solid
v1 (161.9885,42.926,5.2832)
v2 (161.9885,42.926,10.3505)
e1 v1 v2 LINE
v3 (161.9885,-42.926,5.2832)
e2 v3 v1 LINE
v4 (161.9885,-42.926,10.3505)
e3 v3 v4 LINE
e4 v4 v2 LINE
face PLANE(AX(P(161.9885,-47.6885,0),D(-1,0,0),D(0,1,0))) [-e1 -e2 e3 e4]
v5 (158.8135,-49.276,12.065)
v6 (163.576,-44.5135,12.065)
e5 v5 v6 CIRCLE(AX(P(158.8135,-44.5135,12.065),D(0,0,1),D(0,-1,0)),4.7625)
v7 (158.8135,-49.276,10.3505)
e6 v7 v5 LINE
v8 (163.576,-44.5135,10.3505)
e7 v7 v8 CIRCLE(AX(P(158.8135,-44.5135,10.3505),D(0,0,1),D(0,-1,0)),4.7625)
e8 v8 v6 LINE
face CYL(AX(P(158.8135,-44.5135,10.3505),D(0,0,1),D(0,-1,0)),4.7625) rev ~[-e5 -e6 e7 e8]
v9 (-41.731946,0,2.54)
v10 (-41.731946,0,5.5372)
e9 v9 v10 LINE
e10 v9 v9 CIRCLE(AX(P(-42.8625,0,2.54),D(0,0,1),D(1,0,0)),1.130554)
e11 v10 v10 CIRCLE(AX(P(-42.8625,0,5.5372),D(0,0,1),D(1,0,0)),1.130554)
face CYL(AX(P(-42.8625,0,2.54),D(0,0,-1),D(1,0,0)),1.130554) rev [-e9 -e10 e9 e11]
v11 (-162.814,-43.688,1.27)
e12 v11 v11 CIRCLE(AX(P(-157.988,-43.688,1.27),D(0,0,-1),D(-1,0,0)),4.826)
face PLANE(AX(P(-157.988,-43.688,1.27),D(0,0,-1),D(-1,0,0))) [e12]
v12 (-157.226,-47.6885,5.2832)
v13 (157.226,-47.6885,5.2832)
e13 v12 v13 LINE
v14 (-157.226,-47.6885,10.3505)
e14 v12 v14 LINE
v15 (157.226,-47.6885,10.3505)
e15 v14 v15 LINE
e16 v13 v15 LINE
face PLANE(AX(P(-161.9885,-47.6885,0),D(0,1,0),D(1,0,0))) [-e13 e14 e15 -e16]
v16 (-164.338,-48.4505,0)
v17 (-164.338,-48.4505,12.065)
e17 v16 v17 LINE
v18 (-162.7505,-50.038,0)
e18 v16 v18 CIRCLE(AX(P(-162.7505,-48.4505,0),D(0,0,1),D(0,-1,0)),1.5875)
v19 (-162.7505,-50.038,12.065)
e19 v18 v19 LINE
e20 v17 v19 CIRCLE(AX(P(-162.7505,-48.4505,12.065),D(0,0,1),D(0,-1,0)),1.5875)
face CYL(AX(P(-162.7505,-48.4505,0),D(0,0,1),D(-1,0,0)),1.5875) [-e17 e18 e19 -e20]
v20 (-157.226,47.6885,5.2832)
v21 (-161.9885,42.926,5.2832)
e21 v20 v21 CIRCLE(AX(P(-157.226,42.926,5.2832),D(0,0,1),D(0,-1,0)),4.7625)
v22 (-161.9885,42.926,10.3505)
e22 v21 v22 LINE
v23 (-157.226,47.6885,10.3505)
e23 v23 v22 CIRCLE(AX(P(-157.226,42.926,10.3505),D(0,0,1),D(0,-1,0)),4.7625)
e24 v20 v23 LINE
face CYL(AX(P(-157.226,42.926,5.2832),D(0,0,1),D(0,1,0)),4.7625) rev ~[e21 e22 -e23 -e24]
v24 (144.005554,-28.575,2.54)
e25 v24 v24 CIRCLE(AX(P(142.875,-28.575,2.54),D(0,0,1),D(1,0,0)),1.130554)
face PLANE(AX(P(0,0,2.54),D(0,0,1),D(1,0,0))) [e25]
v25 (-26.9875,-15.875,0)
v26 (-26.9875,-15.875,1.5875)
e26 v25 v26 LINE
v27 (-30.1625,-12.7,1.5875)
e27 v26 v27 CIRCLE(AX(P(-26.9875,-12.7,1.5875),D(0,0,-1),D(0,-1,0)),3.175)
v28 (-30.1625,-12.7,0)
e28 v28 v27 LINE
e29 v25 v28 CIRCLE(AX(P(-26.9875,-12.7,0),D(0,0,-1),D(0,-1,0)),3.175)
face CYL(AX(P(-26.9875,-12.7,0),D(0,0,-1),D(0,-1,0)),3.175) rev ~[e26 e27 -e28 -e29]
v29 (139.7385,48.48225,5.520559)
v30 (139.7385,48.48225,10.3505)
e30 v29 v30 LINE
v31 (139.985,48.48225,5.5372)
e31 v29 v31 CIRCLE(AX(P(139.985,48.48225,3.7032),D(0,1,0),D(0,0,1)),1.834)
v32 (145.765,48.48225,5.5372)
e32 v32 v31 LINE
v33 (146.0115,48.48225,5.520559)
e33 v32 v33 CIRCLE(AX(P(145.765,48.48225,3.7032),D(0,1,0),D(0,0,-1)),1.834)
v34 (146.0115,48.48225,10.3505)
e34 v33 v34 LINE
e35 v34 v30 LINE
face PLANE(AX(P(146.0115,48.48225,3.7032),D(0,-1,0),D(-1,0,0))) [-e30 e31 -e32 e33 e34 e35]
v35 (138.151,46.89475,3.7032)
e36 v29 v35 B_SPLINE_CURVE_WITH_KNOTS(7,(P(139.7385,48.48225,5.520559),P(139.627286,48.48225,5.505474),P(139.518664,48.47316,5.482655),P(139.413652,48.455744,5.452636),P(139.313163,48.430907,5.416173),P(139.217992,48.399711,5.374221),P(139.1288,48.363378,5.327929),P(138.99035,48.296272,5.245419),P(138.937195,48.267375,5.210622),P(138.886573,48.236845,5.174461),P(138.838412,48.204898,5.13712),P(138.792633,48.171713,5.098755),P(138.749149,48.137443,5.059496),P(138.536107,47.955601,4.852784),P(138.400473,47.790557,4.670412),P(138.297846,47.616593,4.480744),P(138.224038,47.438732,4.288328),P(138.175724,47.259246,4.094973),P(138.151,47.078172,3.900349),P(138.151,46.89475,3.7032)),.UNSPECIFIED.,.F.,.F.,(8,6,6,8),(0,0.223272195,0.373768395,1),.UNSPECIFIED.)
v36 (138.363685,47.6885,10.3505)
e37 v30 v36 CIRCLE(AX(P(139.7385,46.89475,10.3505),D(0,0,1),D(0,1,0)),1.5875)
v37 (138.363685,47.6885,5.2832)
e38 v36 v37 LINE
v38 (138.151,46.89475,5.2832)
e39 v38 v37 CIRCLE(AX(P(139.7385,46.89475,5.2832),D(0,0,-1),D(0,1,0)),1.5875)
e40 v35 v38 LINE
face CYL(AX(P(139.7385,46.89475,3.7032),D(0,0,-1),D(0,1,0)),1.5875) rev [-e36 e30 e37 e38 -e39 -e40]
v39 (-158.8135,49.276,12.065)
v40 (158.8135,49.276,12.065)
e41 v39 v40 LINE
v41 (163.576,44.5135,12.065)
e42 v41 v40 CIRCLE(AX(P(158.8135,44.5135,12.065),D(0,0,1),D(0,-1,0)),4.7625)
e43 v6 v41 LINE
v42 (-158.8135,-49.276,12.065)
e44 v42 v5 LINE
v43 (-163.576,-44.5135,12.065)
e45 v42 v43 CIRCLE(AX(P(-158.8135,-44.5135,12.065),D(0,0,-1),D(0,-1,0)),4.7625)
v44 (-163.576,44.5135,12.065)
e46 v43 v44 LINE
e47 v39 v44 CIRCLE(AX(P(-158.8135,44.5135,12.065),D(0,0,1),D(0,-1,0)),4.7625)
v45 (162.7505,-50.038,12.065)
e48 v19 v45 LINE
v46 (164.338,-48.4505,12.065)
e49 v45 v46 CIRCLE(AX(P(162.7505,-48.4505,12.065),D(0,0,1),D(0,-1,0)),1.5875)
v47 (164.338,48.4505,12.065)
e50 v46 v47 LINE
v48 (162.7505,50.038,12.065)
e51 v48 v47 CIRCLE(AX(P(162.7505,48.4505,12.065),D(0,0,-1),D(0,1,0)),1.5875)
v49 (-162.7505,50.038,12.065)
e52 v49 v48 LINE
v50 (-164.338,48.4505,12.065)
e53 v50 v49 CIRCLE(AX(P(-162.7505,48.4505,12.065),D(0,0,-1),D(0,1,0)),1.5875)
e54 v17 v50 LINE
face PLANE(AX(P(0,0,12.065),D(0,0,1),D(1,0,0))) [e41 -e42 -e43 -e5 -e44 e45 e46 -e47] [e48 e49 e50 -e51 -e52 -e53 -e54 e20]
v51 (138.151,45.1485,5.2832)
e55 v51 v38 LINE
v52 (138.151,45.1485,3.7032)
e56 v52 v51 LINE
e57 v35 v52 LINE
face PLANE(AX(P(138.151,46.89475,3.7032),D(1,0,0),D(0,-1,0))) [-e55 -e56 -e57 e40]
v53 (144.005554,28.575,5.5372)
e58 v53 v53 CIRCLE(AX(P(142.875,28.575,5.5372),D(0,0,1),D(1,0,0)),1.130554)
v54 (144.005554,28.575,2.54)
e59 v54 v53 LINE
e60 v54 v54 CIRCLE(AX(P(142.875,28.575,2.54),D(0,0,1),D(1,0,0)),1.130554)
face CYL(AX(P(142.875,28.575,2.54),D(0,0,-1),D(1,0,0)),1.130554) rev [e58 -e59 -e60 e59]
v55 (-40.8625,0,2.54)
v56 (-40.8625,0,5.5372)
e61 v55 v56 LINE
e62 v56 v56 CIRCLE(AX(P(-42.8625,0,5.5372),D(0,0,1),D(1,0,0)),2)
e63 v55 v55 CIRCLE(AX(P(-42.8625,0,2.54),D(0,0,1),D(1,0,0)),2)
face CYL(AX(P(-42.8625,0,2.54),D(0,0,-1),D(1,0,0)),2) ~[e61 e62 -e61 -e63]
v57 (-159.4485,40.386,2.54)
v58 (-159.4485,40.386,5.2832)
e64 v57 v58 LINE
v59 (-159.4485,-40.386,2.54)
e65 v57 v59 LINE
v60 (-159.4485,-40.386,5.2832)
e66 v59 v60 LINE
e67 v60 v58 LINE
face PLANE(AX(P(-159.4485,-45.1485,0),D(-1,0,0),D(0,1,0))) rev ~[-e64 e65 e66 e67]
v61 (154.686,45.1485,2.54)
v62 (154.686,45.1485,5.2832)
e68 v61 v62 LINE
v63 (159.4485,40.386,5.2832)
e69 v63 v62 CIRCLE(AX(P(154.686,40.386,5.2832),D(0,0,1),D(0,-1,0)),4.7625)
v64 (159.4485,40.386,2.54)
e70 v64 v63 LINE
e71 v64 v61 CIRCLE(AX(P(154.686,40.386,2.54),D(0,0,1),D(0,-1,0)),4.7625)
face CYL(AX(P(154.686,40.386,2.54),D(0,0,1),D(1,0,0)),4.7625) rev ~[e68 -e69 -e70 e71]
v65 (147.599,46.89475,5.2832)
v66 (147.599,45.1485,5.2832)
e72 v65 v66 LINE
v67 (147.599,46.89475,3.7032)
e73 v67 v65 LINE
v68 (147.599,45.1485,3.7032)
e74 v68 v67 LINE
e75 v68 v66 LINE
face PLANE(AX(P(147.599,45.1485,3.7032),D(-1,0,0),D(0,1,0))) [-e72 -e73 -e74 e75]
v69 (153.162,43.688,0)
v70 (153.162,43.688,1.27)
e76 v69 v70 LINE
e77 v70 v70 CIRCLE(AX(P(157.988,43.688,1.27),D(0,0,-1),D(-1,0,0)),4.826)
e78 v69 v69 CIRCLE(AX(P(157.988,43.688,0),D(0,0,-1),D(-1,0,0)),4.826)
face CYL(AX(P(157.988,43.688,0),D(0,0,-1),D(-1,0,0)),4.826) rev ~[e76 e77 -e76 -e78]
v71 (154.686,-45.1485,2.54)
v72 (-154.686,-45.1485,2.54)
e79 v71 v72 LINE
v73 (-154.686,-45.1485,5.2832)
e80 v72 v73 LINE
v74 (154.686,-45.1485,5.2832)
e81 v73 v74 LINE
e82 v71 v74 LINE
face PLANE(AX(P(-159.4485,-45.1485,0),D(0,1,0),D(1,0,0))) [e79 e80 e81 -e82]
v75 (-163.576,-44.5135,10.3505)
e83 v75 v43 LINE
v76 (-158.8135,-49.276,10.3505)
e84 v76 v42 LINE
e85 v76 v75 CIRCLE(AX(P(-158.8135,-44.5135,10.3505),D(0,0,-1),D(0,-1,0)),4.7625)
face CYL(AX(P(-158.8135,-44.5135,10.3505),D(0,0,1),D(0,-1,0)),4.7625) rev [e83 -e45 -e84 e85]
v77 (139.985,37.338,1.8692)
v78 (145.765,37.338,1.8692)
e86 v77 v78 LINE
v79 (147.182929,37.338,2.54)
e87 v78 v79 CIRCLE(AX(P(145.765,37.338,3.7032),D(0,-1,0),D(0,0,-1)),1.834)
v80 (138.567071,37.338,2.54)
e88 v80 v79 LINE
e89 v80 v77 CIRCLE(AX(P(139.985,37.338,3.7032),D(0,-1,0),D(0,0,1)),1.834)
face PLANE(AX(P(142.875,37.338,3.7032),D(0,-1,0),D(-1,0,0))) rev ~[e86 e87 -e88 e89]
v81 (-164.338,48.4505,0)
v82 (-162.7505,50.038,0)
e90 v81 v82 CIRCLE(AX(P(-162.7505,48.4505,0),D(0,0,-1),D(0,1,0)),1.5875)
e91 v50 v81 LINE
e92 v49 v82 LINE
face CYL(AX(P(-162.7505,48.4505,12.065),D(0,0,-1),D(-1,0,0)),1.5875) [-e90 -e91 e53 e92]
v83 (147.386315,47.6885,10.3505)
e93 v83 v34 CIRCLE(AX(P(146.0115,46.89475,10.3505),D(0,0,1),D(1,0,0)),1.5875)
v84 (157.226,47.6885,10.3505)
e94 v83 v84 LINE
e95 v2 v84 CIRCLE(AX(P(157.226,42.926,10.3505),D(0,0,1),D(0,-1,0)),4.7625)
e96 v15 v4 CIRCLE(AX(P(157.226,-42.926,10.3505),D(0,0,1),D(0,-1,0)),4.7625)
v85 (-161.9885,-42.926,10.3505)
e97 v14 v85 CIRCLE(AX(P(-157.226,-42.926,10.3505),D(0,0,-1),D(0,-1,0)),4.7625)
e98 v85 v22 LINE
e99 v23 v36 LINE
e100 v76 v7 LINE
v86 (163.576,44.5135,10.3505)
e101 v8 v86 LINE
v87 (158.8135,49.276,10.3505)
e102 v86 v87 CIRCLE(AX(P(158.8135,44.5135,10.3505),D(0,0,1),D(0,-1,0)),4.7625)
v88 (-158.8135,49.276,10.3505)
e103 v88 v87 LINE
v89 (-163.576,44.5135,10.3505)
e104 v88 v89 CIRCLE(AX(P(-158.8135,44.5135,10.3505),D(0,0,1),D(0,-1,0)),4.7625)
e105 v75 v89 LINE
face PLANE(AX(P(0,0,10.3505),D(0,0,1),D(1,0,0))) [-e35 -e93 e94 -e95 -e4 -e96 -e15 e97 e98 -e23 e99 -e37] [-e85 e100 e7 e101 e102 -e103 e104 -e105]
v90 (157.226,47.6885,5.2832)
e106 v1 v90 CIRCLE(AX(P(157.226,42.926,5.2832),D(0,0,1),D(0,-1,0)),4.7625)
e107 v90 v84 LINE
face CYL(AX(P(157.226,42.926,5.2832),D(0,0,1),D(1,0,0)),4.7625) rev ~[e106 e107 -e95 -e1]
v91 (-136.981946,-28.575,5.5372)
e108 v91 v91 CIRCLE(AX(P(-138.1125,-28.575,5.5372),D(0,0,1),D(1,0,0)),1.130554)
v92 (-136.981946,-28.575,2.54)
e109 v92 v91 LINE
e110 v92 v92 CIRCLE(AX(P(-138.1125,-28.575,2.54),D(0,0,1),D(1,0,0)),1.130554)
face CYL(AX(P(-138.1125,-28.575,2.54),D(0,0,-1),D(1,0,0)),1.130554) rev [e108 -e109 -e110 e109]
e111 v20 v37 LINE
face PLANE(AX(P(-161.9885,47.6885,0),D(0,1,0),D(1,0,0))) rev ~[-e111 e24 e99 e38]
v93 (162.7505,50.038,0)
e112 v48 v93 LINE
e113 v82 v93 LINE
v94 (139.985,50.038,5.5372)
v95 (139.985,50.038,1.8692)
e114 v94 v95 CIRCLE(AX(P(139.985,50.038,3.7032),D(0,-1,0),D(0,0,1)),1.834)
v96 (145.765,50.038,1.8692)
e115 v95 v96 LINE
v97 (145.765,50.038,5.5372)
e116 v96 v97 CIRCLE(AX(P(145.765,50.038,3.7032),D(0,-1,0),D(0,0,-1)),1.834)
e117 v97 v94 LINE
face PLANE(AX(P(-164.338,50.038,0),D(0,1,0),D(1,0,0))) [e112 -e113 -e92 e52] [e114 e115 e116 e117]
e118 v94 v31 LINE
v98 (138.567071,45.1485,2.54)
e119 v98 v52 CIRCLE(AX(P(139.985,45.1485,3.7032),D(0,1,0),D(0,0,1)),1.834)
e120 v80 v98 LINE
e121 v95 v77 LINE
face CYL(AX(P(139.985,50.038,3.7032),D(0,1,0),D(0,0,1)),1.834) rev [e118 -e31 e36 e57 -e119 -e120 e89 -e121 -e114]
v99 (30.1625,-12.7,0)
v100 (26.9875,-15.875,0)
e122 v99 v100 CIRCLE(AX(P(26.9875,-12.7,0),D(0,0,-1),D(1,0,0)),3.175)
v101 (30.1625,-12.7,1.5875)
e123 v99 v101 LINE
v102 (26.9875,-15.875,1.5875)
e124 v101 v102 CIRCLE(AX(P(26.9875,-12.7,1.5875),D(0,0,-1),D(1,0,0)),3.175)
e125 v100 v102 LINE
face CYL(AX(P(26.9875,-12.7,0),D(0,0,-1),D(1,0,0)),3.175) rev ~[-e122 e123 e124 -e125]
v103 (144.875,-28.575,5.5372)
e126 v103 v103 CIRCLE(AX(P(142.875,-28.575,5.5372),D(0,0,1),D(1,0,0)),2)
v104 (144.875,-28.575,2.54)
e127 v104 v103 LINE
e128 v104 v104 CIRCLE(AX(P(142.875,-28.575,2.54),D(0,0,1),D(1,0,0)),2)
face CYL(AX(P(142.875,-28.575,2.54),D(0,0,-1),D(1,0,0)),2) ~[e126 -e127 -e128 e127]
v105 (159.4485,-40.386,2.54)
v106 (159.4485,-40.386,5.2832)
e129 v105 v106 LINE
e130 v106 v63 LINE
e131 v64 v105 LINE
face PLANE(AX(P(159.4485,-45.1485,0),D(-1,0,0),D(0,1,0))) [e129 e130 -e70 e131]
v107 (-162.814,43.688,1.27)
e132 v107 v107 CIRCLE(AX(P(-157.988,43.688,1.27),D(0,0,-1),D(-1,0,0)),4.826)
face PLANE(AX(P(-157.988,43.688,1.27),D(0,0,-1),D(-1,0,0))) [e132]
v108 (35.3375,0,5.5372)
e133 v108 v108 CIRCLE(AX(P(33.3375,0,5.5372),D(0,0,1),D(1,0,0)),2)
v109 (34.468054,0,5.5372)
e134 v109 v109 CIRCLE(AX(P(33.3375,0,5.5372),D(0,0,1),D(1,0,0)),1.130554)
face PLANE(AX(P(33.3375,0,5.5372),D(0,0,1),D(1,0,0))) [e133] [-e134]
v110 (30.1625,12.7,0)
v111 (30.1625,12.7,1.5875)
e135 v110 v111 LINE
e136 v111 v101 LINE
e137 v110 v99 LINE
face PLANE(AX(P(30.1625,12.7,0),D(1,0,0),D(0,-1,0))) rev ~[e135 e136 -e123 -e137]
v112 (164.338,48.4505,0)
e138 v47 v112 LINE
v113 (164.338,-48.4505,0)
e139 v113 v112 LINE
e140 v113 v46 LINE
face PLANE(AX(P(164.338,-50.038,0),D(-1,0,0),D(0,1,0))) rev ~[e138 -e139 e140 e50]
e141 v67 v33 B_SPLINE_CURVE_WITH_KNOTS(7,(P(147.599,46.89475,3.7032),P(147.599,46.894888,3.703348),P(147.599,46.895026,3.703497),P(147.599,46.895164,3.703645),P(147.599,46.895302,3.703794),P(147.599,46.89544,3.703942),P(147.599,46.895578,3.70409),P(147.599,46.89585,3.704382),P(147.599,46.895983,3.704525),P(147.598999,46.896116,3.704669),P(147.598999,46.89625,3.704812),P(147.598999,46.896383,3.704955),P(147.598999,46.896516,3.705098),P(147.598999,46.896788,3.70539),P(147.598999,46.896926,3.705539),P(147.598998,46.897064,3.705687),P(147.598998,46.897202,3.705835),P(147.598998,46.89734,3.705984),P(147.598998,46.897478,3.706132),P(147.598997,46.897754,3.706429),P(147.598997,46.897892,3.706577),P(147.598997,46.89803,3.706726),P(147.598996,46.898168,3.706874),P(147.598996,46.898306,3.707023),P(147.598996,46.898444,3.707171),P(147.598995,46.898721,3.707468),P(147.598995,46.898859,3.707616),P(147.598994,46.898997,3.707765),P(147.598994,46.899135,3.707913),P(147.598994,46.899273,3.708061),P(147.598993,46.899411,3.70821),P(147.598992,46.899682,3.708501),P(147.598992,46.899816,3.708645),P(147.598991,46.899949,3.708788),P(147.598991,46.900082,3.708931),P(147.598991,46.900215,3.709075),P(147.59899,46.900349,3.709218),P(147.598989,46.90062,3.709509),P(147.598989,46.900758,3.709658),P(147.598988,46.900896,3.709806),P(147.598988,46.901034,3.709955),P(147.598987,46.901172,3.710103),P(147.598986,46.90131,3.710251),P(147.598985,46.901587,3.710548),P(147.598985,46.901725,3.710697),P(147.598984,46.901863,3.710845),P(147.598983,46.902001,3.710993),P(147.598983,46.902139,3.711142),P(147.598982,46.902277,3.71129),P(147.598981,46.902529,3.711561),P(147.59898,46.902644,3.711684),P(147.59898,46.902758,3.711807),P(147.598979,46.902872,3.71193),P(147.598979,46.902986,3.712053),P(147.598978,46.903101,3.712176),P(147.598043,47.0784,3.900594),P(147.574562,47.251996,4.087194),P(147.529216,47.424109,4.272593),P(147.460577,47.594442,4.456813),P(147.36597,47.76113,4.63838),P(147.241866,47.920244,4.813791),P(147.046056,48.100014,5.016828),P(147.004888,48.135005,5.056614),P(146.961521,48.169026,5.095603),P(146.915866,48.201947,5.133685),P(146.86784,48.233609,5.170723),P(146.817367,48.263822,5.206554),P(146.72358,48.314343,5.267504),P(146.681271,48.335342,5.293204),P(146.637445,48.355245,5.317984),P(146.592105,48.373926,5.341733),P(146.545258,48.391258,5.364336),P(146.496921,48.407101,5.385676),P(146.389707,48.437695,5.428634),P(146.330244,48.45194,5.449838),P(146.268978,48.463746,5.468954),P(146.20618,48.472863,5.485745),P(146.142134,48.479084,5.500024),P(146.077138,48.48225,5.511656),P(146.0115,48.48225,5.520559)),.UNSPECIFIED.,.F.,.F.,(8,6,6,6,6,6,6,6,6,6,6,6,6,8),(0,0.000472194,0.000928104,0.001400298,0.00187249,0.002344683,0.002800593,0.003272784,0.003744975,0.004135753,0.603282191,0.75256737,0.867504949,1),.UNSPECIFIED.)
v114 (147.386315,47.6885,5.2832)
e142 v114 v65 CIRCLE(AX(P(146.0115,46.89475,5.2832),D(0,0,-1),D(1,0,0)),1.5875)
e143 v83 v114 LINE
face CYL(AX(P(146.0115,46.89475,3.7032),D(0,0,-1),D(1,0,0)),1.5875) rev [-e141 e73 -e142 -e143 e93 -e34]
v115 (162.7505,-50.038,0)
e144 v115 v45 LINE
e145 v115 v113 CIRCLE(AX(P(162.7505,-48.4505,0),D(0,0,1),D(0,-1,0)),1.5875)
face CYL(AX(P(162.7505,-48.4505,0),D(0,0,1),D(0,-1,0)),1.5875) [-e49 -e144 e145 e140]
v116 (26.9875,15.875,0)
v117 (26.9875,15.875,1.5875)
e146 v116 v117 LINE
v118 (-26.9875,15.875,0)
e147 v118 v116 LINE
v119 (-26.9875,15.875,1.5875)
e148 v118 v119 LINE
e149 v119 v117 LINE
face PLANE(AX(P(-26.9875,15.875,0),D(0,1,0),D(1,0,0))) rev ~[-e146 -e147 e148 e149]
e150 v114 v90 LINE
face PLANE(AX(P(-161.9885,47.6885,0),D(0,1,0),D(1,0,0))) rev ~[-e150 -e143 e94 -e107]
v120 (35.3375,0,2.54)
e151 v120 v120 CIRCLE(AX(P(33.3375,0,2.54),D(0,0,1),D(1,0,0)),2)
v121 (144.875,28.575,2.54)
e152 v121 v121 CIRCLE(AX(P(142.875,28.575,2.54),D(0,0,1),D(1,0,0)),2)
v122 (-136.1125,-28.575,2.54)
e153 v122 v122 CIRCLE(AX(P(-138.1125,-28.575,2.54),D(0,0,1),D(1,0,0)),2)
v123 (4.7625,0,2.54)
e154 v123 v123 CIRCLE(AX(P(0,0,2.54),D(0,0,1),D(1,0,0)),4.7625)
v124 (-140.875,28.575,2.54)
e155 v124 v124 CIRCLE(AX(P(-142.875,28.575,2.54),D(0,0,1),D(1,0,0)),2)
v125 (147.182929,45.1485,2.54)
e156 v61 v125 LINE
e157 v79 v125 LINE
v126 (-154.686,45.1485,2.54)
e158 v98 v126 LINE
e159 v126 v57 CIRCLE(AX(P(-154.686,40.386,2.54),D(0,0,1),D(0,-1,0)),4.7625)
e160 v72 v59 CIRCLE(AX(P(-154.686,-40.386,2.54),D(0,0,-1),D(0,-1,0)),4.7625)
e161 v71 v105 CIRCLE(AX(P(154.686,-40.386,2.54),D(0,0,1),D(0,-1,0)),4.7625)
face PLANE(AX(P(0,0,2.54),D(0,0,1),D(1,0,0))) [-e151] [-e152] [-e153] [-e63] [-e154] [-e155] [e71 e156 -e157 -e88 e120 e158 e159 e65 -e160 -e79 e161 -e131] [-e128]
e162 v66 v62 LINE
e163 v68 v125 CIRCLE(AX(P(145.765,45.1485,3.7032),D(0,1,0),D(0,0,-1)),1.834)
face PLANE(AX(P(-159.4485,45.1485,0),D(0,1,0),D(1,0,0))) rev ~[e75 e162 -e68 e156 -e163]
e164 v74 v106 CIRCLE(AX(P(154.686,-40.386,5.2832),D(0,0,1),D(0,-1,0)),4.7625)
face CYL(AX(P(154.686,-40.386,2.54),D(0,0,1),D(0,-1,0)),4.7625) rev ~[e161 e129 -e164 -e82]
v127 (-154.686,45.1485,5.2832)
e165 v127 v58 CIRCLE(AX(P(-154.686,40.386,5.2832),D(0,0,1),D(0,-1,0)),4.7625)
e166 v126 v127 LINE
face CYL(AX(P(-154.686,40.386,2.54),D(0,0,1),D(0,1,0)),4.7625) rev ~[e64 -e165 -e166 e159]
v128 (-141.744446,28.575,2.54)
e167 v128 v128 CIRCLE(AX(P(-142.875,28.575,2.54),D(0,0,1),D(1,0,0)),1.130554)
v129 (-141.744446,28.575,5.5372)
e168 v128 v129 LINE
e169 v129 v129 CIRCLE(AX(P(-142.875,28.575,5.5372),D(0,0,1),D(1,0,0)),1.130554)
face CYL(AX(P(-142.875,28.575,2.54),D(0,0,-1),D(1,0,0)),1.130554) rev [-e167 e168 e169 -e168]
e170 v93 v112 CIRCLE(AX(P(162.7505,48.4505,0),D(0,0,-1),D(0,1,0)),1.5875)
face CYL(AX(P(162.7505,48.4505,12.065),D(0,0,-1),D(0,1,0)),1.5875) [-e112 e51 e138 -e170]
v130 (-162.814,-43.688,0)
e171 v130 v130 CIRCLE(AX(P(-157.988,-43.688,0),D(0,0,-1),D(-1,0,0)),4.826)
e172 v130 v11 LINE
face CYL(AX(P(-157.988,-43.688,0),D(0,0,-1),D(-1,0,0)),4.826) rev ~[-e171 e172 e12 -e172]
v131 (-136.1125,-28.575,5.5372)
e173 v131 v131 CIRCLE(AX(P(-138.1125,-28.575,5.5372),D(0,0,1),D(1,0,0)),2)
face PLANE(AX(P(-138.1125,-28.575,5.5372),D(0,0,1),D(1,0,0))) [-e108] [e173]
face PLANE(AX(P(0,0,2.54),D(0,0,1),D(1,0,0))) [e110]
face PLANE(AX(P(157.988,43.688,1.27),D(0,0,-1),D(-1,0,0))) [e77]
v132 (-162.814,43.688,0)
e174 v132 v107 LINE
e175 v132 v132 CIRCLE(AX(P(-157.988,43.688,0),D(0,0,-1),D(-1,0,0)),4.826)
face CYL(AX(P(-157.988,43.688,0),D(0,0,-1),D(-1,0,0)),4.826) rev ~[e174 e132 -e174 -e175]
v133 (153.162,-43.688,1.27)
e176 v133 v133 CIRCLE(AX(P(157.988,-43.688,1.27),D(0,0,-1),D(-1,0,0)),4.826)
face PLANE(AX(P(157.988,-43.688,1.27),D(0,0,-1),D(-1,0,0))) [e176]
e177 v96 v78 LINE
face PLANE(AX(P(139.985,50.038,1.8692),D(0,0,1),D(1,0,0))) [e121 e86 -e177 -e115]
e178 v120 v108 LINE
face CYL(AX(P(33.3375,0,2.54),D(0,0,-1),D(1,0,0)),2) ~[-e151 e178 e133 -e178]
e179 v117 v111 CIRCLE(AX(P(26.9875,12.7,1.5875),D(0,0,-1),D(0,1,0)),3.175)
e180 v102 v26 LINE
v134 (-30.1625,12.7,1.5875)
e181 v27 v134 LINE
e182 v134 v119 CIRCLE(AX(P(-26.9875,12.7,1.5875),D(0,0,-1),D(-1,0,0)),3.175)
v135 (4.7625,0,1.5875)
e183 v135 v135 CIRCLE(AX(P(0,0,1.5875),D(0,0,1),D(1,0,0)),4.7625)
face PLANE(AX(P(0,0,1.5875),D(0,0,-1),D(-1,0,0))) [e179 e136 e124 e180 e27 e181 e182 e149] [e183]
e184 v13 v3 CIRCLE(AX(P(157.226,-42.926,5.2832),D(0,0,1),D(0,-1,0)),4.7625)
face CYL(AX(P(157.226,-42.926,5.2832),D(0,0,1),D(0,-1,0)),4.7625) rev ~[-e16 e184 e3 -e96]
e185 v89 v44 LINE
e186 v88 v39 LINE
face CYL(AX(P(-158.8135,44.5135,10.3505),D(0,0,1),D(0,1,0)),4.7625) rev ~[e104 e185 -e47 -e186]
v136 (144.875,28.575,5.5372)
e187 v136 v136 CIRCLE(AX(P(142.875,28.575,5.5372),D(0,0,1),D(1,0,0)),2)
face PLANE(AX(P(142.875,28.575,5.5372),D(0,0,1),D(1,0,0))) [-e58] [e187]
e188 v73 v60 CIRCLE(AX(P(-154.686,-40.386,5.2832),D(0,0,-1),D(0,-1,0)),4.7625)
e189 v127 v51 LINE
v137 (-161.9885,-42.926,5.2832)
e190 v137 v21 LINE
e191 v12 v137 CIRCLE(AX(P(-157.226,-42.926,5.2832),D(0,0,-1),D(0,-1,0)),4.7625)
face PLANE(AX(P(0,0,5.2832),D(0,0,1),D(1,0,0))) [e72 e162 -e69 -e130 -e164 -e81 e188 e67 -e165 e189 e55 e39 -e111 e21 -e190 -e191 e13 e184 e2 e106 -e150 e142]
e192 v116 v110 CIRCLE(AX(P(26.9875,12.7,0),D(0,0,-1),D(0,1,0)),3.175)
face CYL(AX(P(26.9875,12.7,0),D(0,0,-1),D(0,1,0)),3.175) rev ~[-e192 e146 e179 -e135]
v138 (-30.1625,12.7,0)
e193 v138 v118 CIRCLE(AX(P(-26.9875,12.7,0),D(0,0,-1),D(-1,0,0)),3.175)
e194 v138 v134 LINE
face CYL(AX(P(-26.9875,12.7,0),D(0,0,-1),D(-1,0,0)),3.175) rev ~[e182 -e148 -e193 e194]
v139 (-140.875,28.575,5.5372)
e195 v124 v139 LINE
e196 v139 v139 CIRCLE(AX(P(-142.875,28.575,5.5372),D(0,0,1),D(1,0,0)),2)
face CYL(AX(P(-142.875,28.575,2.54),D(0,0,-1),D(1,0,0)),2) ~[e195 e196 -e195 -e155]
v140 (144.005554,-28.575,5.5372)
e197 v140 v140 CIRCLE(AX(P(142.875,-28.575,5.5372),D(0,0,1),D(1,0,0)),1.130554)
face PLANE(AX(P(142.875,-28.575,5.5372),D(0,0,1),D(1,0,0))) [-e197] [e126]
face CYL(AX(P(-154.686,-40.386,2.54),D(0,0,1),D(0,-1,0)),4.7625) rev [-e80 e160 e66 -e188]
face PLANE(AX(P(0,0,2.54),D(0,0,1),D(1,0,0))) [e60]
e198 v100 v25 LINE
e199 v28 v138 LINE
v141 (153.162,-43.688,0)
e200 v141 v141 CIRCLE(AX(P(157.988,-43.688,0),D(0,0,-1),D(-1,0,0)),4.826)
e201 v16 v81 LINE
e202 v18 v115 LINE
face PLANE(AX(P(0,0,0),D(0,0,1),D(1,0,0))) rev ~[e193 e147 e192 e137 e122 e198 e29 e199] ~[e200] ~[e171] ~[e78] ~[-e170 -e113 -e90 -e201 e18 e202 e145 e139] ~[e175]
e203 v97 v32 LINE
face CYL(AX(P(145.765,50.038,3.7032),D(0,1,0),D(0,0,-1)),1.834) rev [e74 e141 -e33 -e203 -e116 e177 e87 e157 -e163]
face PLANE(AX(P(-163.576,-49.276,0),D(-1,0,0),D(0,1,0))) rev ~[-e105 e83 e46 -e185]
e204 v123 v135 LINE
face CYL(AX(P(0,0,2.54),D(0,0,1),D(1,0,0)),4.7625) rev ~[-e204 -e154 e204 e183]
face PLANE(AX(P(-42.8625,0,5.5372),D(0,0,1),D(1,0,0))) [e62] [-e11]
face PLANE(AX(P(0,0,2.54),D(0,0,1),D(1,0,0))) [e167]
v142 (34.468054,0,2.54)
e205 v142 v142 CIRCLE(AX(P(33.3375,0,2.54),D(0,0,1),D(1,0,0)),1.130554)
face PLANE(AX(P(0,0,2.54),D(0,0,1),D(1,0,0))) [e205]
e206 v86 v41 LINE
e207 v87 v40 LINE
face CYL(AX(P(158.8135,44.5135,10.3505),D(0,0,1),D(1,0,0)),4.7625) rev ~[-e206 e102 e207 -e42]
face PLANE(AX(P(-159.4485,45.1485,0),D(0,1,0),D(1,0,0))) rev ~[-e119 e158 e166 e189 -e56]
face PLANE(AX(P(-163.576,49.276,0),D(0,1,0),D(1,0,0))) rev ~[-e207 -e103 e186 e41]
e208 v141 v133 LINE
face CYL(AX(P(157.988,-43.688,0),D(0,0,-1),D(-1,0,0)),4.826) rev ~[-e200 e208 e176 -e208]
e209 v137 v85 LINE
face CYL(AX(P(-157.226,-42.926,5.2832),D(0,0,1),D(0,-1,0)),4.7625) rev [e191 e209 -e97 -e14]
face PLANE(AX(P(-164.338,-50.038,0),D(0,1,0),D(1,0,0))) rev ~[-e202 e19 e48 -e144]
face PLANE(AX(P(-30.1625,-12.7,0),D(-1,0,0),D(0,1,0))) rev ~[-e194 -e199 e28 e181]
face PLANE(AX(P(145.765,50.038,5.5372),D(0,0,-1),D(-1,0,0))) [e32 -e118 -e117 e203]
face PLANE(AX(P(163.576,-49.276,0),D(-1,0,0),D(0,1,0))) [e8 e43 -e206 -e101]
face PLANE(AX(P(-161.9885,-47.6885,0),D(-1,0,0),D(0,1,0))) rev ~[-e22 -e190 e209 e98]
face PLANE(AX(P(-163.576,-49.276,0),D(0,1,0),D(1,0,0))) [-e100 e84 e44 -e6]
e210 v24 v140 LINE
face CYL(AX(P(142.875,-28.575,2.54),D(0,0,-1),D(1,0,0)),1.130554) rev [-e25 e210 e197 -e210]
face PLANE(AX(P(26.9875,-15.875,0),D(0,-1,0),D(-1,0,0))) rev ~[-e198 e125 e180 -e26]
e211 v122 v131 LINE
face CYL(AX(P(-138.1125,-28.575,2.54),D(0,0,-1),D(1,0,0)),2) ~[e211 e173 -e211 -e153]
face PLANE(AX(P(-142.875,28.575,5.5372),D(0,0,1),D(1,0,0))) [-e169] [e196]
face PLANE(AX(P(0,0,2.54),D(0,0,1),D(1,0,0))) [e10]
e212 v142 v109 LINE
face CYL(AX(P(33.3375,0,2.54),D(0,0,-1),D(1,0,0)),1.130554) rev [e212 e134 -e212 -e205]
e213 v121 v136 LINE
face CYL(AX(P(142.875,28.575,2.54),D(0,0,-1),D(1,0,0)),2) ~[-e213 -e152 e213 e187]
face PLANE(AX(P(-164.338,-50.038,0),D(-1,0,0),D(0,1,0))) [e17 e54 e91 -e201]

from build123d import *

# Parameters (mm, degrees)
SKETCH1_W           = 328.676
SKETCH1_H           = 100.076
SKETCH1_W_2         = 327.152
SKETCH1_H_2         = 98.552
SKETCH1_W_3         = 323.977
SKETCH1_H_3         = 95.377
SKETCH1_W_4         = 318.897
SKETCH1_H_4         = 90.297
BOSS_EXTRUDE1_DEPTH = 2.54
SKETCH1_3_W         = 328.676
SKETCH1_3_H         = 100.076
SKETCH1_3_W_2       = 327.152
SKETCH1_3_H_2       = 98.552
BOSS_EXTRUDE2_DEPTH = 12.065
SKETCH1_4_W         = 327.152
SKETCH1_4_H         = 98.552
SKETCH1_4_W_2       = 323.977
SKETCH1_4_H_2       = 95.377
BOSS_EXTRUDE3_DEPTH = 10.3505
SKETCH1_5_W         = 323.977
SKETCH1_5_H         = 95.377
SKETCH1_5_W_2       = 318.897
SKETCH1_5_H_2       = 90.297
BOSS_EXTRUDE4_DEPTH = 5.2832
SKETCH2_R           = 1.99999981
SKETCH2_R_2         = 1.130554
BOSS_EXTRUDE5_DEPTH = 2.9972
FILLET1_R           = 4.7625
FILLET2_R           = 1.5875
CUT_EXTRUDE1_DEPTH  = 1.5875
SKETCH4_R           = 4.7625
CUT_EXTRUDE2_DEPTH  = 173.050880012
CUT_EXTRUDE3_DEPTH  = 12.7
CUT_EXTRUDE4_START  = -1.58
CUT_EXTRUDE4_DEPTH  = 6.6473
SKETCH7_R           = 4.826
CUT_EXTRUDE5_DEPTH  = 1.27


with BuildPart() as part:
    # Sketch1 → Boss-Extrude1 (new body)
    # profile 1 of 4: a face of its own
    with BuildSketch(Plane.XY):
        Rectangle(SKETCH1_W, SKETCH1_H)
        Rectangle(SKETCH1_W_2, SKETCH1_H_2, mode=Mode.SUBTRACT)
    # profile 2 of 4: a face of its own
    with BuildSketch(Plane.XY):
        Rectangle(SKETCH1_W_2, SKETCH1_H_2)
        Rectangle(SKETCH1_W_3, SKETCH1_H_3, mode=Mode.SUBTRACT)
    # profile 3 of 4: a face of its own
    with BuildSketch(Plane.XY):
        Rectangle(SKETCH1_W_3, SKETCH1_H_3)
    # profile 4 of 4: a face of its own
    with BuildSketch(Plane.XY):
        Rectangle(SKETCH1_W_4, SKETCH1_H_4)
    extrude(amount=BOSS_EXTRUDE1_DEPTH)

    # Sketch1<3> → Boss-Extrude2 (add)
    with BuildSketch(Plane.XY):
        Rectangle(SKETCH1_3_W, SKETCH1_3_H)
        Rectangle(SKETCH1_3_W_2, SKETCH1_3_H_2, mode=Mode.SUBTRACT)
    extrude(amount=BOSS_EXTRUDE2_DEPTH)

    # Sketch1<4> → Boss-Extrude3 (add)
    with BuildSketch(Plane.XY):
        Rectangle(SKETCH1_4_W, SKETCH1_4_H)
        Rectangle(SKETCH1_4_W_2, SKETCH1_4_H_2, mode=Mode.SUBTRACT)
    extrude(amount=BOSS_EXTRUDE3_DEPTH)

    # Sketch1<5> → Boss-Extrude4 (add)
    with BuildSketch(Plane.XY):
        Rectangle(SKETCH1_5_W, SKETCH1_5_H)
        Rectangle(SKETCH1_5_W_2, SKETCH1_5_H_2, mode=Mode.SUBTRACT)
    extrude(amount=BOSS_EXTRUDE4_DEPTH)

    # Sketch2 → Boss-Extrude5 (add)
    # profile 1 of 6: a face of its own
    with BuildSketch(Plane.XY.offset(2.54)):
        with Locations((142.875, -28.575)):
            Circle(SKETCH2_R)
        with Locations((142.875, -28.575)):
            Circle(SKETCH2_R_2, mode=Mode.SUBTRACT)
    # profile 2 of 6: a face of its own
    with BuildSketch(Plane.XY.offset(2.54)):
        with Locations((142.875, 28.575)):
            Circle(SKETCH2_R)
        with Locations((142.875, 28.575)):
            Circle(SKETCH2_R_2, mode=Mode.SUBTRACT)
    # profile 3 of 6: a face of its own
    with BuildSketch(Plane.XY.offset(2.54)):
        with Locations((-42.8625, 0)):
            Circle(SKETCH2_R)
        with Locations((-42.8625, 0)):
            Circle(SKETCH2_R_2, mode=Mode.SUBTRACT)
    # profile 4 of 6: a face of its own
    with BuildSketch(Plane.XY.offset(2.54)):
        with Locations((33.3375, 0)):
            Circle(SKETCH2_R)
        with Locations((33.3375, 0)):
            Circle(SKETCH2_R_2, mode=Mode.SUBTRACT)
    # profile 5 of 6: a face of its own
    with BuildSketch(Plane.XY.offset(2.54)):
        with Locations((-142.875, 28.575)):
            Circle(SKETCH2_R)
        with Locations((-142.875, 28.575)):
            Circle(SKETCH2_R_2, mode=Mode.SUBTRACT)
    # profile 6 of 6: a face of its own
    with BuildSketch(Plane.XY.offset(2.54)):
        with Locations((-138.1125, -28.575)):
            Circle(SKETCH2_R)
        with Locations((-138.1125, -28.575)):
            Circle(SKETCH2_R_2, mode=Mode.SUBTRACT)
    extrude(amount=BOSS_EXTRUDE5_DEPTH)

    # Fillet1
    fillet1_edges = [part.edges().sort_by_distance(p)[0] for p in [
        (159.4485, 45.1485, 3.9116),
        (159.4485, -45.1485, 3.9116),
        (-159.4485, -45.1485, 3.9116),
        (-159.4485, 45.1485, 3.9116),
        (163.576, -49.276, 11.20775),
        (-163.576, -49.276, 11.20775),
        (-163.576, 49.276, 11.20775),
        (163.576, 49.276, 11.20775),
        (161.9885, 47.6885, 7.81685),
        (-161.9885, 47.6885, 7.81685),
        (-161.9885, -47.6885, 7.81685),
        (161.9885, -47.6885, 7.81685),
    ]]
    fillet(fillet1_edges, radius=FILLET1_R)

    # Fillet2
    fillet2_edges = [part.edges().sort_by_distance(p)[0] for p in [
        (-164.338, -50.038, 6.0325),
        (-164.338, 50.038, 6.0325),
        (164.338, 50.038, 6.0325),
        (164.338, -50.038, 6.0325),
    ]]
    fillet(fillet2_edges, radius=FILLET2_R)

    # Sketch3 → Cut-Extrude1 (cut)
    with BuildSketch(Plane(origin=(0, 0, 0), x_dir=(-1, 0, 0), z_dir=(0, 0, -1))):
        with BuildLine():
            Line((-26.9875, -15.875), (26.9875, -15.875))
            ThreePointArc((26.9875, -15.875), (29.23256403, -14.94506403), (30.1625, -12.7))
            Line((30.1625, -12.7), (30.1625, 12.7))
            ThreePointArc((30.1625, 12.7), (29.23256403, 14.94506403), (26.9875, 15.875))
            Line((26.9875, 15.875), (-26.9875, 15.875))
            ThreePointArc((-26.9875, 15.875), (-29.23256403, 14.94506403), (-30.1625, 12.7))
            Line((-30.1625, 12.7), (-30.1625, -12.7))
            ThreePointArc((-30.1625, -12.7), (-29.23256403, -14.94506403), (-26.9875, -15.875))
        make_face()
    extrude(amount=-CUT_EXTRUDE1_DEPTH, mode=Mode.SUBTRACT)

    # Sketch4 → Cut-Extrude2 (cut, through all)
    with BuildSketch(Plane.XY.offset(2.54)):
        Circle(SKETCH4_R)
    extrude(amount=-CUT_EXTRUDE2_DEPTH, mode=Mode.SUBTRACT)

    # Sketch5 → Cut-Extrude3 (cut)
    with BuildSketch(Plane(origin=(0, 50.038, 0), x_dir=(1, 0, 0), z_dir=(0, 1, 0))):
        with BuildLine():
            Line((145.765, -5.5372), (139.985, -5.5372))
            ThreePointArc((139.985, -5.5372), (138.151, -3.7032), (139.985, -1.8692))
            Line((139.985, -1.8692), (145.765, -1.8692))
            ThreePointArc((145.765, -1.8692), (147.599, -3.7032), (145.765, -5.5372))
        make_face()
    extrude(amount=-CUT_EXTRUDE3_DEPTH, mode=Mode.SUBTRACT)

    # Sketch6 → Cut-Extrude4 (cut)
    with BuildSketch(Plane.XY.offset(5.2832).offset(CUT_EXTRUDE4_START)):
        with BuildLine():
            Line((138.151, 45.1485), (147.599, 45.1485))
            Line((147.599, 45.1485), (147.599, 46.89475))
            ThreePointArc((147.599, 46.89475), (147.134032015, 48.017282015), (146.0115, 48.48225))
            Line((146.0115, 48.48225), (139.7385, 48.48225))
            ThreePointArc((139.7385, 48.48225), (138.615967985, 48.017282015), (138.151, 46.89475))
            Line((138.151, 46.89475), (138.151, 45.1485))
        make_face()
    extrude(amount=CUT_EXTRUDE4_DEPTH, mode=Mode.SUBTRACT)

    # Sketch7 → Cut-Extrude5 (cut)
    with BuildSketch(Plane(origin=(0, 0, 0), x_dir=(-1, 0, 0), z_dir=(0, 0, -1))):
        with Locations((-157.988, 43.688)):
            Circle(SKETCH7_R)
        with Locations((-157.988, -43.688)):
            Circle(SKETCH7_R)
        with Locations((157.988, -43.688)):
            Circle(SKETCH7_R)
        with Locations((157.988, 43.688)):
            Circle(SKETCH7_R)
    extrude(amount=-CUT_EXTRUDE5_DEPTH, mode=Mode.SUBTRACT)


solid = part.part
